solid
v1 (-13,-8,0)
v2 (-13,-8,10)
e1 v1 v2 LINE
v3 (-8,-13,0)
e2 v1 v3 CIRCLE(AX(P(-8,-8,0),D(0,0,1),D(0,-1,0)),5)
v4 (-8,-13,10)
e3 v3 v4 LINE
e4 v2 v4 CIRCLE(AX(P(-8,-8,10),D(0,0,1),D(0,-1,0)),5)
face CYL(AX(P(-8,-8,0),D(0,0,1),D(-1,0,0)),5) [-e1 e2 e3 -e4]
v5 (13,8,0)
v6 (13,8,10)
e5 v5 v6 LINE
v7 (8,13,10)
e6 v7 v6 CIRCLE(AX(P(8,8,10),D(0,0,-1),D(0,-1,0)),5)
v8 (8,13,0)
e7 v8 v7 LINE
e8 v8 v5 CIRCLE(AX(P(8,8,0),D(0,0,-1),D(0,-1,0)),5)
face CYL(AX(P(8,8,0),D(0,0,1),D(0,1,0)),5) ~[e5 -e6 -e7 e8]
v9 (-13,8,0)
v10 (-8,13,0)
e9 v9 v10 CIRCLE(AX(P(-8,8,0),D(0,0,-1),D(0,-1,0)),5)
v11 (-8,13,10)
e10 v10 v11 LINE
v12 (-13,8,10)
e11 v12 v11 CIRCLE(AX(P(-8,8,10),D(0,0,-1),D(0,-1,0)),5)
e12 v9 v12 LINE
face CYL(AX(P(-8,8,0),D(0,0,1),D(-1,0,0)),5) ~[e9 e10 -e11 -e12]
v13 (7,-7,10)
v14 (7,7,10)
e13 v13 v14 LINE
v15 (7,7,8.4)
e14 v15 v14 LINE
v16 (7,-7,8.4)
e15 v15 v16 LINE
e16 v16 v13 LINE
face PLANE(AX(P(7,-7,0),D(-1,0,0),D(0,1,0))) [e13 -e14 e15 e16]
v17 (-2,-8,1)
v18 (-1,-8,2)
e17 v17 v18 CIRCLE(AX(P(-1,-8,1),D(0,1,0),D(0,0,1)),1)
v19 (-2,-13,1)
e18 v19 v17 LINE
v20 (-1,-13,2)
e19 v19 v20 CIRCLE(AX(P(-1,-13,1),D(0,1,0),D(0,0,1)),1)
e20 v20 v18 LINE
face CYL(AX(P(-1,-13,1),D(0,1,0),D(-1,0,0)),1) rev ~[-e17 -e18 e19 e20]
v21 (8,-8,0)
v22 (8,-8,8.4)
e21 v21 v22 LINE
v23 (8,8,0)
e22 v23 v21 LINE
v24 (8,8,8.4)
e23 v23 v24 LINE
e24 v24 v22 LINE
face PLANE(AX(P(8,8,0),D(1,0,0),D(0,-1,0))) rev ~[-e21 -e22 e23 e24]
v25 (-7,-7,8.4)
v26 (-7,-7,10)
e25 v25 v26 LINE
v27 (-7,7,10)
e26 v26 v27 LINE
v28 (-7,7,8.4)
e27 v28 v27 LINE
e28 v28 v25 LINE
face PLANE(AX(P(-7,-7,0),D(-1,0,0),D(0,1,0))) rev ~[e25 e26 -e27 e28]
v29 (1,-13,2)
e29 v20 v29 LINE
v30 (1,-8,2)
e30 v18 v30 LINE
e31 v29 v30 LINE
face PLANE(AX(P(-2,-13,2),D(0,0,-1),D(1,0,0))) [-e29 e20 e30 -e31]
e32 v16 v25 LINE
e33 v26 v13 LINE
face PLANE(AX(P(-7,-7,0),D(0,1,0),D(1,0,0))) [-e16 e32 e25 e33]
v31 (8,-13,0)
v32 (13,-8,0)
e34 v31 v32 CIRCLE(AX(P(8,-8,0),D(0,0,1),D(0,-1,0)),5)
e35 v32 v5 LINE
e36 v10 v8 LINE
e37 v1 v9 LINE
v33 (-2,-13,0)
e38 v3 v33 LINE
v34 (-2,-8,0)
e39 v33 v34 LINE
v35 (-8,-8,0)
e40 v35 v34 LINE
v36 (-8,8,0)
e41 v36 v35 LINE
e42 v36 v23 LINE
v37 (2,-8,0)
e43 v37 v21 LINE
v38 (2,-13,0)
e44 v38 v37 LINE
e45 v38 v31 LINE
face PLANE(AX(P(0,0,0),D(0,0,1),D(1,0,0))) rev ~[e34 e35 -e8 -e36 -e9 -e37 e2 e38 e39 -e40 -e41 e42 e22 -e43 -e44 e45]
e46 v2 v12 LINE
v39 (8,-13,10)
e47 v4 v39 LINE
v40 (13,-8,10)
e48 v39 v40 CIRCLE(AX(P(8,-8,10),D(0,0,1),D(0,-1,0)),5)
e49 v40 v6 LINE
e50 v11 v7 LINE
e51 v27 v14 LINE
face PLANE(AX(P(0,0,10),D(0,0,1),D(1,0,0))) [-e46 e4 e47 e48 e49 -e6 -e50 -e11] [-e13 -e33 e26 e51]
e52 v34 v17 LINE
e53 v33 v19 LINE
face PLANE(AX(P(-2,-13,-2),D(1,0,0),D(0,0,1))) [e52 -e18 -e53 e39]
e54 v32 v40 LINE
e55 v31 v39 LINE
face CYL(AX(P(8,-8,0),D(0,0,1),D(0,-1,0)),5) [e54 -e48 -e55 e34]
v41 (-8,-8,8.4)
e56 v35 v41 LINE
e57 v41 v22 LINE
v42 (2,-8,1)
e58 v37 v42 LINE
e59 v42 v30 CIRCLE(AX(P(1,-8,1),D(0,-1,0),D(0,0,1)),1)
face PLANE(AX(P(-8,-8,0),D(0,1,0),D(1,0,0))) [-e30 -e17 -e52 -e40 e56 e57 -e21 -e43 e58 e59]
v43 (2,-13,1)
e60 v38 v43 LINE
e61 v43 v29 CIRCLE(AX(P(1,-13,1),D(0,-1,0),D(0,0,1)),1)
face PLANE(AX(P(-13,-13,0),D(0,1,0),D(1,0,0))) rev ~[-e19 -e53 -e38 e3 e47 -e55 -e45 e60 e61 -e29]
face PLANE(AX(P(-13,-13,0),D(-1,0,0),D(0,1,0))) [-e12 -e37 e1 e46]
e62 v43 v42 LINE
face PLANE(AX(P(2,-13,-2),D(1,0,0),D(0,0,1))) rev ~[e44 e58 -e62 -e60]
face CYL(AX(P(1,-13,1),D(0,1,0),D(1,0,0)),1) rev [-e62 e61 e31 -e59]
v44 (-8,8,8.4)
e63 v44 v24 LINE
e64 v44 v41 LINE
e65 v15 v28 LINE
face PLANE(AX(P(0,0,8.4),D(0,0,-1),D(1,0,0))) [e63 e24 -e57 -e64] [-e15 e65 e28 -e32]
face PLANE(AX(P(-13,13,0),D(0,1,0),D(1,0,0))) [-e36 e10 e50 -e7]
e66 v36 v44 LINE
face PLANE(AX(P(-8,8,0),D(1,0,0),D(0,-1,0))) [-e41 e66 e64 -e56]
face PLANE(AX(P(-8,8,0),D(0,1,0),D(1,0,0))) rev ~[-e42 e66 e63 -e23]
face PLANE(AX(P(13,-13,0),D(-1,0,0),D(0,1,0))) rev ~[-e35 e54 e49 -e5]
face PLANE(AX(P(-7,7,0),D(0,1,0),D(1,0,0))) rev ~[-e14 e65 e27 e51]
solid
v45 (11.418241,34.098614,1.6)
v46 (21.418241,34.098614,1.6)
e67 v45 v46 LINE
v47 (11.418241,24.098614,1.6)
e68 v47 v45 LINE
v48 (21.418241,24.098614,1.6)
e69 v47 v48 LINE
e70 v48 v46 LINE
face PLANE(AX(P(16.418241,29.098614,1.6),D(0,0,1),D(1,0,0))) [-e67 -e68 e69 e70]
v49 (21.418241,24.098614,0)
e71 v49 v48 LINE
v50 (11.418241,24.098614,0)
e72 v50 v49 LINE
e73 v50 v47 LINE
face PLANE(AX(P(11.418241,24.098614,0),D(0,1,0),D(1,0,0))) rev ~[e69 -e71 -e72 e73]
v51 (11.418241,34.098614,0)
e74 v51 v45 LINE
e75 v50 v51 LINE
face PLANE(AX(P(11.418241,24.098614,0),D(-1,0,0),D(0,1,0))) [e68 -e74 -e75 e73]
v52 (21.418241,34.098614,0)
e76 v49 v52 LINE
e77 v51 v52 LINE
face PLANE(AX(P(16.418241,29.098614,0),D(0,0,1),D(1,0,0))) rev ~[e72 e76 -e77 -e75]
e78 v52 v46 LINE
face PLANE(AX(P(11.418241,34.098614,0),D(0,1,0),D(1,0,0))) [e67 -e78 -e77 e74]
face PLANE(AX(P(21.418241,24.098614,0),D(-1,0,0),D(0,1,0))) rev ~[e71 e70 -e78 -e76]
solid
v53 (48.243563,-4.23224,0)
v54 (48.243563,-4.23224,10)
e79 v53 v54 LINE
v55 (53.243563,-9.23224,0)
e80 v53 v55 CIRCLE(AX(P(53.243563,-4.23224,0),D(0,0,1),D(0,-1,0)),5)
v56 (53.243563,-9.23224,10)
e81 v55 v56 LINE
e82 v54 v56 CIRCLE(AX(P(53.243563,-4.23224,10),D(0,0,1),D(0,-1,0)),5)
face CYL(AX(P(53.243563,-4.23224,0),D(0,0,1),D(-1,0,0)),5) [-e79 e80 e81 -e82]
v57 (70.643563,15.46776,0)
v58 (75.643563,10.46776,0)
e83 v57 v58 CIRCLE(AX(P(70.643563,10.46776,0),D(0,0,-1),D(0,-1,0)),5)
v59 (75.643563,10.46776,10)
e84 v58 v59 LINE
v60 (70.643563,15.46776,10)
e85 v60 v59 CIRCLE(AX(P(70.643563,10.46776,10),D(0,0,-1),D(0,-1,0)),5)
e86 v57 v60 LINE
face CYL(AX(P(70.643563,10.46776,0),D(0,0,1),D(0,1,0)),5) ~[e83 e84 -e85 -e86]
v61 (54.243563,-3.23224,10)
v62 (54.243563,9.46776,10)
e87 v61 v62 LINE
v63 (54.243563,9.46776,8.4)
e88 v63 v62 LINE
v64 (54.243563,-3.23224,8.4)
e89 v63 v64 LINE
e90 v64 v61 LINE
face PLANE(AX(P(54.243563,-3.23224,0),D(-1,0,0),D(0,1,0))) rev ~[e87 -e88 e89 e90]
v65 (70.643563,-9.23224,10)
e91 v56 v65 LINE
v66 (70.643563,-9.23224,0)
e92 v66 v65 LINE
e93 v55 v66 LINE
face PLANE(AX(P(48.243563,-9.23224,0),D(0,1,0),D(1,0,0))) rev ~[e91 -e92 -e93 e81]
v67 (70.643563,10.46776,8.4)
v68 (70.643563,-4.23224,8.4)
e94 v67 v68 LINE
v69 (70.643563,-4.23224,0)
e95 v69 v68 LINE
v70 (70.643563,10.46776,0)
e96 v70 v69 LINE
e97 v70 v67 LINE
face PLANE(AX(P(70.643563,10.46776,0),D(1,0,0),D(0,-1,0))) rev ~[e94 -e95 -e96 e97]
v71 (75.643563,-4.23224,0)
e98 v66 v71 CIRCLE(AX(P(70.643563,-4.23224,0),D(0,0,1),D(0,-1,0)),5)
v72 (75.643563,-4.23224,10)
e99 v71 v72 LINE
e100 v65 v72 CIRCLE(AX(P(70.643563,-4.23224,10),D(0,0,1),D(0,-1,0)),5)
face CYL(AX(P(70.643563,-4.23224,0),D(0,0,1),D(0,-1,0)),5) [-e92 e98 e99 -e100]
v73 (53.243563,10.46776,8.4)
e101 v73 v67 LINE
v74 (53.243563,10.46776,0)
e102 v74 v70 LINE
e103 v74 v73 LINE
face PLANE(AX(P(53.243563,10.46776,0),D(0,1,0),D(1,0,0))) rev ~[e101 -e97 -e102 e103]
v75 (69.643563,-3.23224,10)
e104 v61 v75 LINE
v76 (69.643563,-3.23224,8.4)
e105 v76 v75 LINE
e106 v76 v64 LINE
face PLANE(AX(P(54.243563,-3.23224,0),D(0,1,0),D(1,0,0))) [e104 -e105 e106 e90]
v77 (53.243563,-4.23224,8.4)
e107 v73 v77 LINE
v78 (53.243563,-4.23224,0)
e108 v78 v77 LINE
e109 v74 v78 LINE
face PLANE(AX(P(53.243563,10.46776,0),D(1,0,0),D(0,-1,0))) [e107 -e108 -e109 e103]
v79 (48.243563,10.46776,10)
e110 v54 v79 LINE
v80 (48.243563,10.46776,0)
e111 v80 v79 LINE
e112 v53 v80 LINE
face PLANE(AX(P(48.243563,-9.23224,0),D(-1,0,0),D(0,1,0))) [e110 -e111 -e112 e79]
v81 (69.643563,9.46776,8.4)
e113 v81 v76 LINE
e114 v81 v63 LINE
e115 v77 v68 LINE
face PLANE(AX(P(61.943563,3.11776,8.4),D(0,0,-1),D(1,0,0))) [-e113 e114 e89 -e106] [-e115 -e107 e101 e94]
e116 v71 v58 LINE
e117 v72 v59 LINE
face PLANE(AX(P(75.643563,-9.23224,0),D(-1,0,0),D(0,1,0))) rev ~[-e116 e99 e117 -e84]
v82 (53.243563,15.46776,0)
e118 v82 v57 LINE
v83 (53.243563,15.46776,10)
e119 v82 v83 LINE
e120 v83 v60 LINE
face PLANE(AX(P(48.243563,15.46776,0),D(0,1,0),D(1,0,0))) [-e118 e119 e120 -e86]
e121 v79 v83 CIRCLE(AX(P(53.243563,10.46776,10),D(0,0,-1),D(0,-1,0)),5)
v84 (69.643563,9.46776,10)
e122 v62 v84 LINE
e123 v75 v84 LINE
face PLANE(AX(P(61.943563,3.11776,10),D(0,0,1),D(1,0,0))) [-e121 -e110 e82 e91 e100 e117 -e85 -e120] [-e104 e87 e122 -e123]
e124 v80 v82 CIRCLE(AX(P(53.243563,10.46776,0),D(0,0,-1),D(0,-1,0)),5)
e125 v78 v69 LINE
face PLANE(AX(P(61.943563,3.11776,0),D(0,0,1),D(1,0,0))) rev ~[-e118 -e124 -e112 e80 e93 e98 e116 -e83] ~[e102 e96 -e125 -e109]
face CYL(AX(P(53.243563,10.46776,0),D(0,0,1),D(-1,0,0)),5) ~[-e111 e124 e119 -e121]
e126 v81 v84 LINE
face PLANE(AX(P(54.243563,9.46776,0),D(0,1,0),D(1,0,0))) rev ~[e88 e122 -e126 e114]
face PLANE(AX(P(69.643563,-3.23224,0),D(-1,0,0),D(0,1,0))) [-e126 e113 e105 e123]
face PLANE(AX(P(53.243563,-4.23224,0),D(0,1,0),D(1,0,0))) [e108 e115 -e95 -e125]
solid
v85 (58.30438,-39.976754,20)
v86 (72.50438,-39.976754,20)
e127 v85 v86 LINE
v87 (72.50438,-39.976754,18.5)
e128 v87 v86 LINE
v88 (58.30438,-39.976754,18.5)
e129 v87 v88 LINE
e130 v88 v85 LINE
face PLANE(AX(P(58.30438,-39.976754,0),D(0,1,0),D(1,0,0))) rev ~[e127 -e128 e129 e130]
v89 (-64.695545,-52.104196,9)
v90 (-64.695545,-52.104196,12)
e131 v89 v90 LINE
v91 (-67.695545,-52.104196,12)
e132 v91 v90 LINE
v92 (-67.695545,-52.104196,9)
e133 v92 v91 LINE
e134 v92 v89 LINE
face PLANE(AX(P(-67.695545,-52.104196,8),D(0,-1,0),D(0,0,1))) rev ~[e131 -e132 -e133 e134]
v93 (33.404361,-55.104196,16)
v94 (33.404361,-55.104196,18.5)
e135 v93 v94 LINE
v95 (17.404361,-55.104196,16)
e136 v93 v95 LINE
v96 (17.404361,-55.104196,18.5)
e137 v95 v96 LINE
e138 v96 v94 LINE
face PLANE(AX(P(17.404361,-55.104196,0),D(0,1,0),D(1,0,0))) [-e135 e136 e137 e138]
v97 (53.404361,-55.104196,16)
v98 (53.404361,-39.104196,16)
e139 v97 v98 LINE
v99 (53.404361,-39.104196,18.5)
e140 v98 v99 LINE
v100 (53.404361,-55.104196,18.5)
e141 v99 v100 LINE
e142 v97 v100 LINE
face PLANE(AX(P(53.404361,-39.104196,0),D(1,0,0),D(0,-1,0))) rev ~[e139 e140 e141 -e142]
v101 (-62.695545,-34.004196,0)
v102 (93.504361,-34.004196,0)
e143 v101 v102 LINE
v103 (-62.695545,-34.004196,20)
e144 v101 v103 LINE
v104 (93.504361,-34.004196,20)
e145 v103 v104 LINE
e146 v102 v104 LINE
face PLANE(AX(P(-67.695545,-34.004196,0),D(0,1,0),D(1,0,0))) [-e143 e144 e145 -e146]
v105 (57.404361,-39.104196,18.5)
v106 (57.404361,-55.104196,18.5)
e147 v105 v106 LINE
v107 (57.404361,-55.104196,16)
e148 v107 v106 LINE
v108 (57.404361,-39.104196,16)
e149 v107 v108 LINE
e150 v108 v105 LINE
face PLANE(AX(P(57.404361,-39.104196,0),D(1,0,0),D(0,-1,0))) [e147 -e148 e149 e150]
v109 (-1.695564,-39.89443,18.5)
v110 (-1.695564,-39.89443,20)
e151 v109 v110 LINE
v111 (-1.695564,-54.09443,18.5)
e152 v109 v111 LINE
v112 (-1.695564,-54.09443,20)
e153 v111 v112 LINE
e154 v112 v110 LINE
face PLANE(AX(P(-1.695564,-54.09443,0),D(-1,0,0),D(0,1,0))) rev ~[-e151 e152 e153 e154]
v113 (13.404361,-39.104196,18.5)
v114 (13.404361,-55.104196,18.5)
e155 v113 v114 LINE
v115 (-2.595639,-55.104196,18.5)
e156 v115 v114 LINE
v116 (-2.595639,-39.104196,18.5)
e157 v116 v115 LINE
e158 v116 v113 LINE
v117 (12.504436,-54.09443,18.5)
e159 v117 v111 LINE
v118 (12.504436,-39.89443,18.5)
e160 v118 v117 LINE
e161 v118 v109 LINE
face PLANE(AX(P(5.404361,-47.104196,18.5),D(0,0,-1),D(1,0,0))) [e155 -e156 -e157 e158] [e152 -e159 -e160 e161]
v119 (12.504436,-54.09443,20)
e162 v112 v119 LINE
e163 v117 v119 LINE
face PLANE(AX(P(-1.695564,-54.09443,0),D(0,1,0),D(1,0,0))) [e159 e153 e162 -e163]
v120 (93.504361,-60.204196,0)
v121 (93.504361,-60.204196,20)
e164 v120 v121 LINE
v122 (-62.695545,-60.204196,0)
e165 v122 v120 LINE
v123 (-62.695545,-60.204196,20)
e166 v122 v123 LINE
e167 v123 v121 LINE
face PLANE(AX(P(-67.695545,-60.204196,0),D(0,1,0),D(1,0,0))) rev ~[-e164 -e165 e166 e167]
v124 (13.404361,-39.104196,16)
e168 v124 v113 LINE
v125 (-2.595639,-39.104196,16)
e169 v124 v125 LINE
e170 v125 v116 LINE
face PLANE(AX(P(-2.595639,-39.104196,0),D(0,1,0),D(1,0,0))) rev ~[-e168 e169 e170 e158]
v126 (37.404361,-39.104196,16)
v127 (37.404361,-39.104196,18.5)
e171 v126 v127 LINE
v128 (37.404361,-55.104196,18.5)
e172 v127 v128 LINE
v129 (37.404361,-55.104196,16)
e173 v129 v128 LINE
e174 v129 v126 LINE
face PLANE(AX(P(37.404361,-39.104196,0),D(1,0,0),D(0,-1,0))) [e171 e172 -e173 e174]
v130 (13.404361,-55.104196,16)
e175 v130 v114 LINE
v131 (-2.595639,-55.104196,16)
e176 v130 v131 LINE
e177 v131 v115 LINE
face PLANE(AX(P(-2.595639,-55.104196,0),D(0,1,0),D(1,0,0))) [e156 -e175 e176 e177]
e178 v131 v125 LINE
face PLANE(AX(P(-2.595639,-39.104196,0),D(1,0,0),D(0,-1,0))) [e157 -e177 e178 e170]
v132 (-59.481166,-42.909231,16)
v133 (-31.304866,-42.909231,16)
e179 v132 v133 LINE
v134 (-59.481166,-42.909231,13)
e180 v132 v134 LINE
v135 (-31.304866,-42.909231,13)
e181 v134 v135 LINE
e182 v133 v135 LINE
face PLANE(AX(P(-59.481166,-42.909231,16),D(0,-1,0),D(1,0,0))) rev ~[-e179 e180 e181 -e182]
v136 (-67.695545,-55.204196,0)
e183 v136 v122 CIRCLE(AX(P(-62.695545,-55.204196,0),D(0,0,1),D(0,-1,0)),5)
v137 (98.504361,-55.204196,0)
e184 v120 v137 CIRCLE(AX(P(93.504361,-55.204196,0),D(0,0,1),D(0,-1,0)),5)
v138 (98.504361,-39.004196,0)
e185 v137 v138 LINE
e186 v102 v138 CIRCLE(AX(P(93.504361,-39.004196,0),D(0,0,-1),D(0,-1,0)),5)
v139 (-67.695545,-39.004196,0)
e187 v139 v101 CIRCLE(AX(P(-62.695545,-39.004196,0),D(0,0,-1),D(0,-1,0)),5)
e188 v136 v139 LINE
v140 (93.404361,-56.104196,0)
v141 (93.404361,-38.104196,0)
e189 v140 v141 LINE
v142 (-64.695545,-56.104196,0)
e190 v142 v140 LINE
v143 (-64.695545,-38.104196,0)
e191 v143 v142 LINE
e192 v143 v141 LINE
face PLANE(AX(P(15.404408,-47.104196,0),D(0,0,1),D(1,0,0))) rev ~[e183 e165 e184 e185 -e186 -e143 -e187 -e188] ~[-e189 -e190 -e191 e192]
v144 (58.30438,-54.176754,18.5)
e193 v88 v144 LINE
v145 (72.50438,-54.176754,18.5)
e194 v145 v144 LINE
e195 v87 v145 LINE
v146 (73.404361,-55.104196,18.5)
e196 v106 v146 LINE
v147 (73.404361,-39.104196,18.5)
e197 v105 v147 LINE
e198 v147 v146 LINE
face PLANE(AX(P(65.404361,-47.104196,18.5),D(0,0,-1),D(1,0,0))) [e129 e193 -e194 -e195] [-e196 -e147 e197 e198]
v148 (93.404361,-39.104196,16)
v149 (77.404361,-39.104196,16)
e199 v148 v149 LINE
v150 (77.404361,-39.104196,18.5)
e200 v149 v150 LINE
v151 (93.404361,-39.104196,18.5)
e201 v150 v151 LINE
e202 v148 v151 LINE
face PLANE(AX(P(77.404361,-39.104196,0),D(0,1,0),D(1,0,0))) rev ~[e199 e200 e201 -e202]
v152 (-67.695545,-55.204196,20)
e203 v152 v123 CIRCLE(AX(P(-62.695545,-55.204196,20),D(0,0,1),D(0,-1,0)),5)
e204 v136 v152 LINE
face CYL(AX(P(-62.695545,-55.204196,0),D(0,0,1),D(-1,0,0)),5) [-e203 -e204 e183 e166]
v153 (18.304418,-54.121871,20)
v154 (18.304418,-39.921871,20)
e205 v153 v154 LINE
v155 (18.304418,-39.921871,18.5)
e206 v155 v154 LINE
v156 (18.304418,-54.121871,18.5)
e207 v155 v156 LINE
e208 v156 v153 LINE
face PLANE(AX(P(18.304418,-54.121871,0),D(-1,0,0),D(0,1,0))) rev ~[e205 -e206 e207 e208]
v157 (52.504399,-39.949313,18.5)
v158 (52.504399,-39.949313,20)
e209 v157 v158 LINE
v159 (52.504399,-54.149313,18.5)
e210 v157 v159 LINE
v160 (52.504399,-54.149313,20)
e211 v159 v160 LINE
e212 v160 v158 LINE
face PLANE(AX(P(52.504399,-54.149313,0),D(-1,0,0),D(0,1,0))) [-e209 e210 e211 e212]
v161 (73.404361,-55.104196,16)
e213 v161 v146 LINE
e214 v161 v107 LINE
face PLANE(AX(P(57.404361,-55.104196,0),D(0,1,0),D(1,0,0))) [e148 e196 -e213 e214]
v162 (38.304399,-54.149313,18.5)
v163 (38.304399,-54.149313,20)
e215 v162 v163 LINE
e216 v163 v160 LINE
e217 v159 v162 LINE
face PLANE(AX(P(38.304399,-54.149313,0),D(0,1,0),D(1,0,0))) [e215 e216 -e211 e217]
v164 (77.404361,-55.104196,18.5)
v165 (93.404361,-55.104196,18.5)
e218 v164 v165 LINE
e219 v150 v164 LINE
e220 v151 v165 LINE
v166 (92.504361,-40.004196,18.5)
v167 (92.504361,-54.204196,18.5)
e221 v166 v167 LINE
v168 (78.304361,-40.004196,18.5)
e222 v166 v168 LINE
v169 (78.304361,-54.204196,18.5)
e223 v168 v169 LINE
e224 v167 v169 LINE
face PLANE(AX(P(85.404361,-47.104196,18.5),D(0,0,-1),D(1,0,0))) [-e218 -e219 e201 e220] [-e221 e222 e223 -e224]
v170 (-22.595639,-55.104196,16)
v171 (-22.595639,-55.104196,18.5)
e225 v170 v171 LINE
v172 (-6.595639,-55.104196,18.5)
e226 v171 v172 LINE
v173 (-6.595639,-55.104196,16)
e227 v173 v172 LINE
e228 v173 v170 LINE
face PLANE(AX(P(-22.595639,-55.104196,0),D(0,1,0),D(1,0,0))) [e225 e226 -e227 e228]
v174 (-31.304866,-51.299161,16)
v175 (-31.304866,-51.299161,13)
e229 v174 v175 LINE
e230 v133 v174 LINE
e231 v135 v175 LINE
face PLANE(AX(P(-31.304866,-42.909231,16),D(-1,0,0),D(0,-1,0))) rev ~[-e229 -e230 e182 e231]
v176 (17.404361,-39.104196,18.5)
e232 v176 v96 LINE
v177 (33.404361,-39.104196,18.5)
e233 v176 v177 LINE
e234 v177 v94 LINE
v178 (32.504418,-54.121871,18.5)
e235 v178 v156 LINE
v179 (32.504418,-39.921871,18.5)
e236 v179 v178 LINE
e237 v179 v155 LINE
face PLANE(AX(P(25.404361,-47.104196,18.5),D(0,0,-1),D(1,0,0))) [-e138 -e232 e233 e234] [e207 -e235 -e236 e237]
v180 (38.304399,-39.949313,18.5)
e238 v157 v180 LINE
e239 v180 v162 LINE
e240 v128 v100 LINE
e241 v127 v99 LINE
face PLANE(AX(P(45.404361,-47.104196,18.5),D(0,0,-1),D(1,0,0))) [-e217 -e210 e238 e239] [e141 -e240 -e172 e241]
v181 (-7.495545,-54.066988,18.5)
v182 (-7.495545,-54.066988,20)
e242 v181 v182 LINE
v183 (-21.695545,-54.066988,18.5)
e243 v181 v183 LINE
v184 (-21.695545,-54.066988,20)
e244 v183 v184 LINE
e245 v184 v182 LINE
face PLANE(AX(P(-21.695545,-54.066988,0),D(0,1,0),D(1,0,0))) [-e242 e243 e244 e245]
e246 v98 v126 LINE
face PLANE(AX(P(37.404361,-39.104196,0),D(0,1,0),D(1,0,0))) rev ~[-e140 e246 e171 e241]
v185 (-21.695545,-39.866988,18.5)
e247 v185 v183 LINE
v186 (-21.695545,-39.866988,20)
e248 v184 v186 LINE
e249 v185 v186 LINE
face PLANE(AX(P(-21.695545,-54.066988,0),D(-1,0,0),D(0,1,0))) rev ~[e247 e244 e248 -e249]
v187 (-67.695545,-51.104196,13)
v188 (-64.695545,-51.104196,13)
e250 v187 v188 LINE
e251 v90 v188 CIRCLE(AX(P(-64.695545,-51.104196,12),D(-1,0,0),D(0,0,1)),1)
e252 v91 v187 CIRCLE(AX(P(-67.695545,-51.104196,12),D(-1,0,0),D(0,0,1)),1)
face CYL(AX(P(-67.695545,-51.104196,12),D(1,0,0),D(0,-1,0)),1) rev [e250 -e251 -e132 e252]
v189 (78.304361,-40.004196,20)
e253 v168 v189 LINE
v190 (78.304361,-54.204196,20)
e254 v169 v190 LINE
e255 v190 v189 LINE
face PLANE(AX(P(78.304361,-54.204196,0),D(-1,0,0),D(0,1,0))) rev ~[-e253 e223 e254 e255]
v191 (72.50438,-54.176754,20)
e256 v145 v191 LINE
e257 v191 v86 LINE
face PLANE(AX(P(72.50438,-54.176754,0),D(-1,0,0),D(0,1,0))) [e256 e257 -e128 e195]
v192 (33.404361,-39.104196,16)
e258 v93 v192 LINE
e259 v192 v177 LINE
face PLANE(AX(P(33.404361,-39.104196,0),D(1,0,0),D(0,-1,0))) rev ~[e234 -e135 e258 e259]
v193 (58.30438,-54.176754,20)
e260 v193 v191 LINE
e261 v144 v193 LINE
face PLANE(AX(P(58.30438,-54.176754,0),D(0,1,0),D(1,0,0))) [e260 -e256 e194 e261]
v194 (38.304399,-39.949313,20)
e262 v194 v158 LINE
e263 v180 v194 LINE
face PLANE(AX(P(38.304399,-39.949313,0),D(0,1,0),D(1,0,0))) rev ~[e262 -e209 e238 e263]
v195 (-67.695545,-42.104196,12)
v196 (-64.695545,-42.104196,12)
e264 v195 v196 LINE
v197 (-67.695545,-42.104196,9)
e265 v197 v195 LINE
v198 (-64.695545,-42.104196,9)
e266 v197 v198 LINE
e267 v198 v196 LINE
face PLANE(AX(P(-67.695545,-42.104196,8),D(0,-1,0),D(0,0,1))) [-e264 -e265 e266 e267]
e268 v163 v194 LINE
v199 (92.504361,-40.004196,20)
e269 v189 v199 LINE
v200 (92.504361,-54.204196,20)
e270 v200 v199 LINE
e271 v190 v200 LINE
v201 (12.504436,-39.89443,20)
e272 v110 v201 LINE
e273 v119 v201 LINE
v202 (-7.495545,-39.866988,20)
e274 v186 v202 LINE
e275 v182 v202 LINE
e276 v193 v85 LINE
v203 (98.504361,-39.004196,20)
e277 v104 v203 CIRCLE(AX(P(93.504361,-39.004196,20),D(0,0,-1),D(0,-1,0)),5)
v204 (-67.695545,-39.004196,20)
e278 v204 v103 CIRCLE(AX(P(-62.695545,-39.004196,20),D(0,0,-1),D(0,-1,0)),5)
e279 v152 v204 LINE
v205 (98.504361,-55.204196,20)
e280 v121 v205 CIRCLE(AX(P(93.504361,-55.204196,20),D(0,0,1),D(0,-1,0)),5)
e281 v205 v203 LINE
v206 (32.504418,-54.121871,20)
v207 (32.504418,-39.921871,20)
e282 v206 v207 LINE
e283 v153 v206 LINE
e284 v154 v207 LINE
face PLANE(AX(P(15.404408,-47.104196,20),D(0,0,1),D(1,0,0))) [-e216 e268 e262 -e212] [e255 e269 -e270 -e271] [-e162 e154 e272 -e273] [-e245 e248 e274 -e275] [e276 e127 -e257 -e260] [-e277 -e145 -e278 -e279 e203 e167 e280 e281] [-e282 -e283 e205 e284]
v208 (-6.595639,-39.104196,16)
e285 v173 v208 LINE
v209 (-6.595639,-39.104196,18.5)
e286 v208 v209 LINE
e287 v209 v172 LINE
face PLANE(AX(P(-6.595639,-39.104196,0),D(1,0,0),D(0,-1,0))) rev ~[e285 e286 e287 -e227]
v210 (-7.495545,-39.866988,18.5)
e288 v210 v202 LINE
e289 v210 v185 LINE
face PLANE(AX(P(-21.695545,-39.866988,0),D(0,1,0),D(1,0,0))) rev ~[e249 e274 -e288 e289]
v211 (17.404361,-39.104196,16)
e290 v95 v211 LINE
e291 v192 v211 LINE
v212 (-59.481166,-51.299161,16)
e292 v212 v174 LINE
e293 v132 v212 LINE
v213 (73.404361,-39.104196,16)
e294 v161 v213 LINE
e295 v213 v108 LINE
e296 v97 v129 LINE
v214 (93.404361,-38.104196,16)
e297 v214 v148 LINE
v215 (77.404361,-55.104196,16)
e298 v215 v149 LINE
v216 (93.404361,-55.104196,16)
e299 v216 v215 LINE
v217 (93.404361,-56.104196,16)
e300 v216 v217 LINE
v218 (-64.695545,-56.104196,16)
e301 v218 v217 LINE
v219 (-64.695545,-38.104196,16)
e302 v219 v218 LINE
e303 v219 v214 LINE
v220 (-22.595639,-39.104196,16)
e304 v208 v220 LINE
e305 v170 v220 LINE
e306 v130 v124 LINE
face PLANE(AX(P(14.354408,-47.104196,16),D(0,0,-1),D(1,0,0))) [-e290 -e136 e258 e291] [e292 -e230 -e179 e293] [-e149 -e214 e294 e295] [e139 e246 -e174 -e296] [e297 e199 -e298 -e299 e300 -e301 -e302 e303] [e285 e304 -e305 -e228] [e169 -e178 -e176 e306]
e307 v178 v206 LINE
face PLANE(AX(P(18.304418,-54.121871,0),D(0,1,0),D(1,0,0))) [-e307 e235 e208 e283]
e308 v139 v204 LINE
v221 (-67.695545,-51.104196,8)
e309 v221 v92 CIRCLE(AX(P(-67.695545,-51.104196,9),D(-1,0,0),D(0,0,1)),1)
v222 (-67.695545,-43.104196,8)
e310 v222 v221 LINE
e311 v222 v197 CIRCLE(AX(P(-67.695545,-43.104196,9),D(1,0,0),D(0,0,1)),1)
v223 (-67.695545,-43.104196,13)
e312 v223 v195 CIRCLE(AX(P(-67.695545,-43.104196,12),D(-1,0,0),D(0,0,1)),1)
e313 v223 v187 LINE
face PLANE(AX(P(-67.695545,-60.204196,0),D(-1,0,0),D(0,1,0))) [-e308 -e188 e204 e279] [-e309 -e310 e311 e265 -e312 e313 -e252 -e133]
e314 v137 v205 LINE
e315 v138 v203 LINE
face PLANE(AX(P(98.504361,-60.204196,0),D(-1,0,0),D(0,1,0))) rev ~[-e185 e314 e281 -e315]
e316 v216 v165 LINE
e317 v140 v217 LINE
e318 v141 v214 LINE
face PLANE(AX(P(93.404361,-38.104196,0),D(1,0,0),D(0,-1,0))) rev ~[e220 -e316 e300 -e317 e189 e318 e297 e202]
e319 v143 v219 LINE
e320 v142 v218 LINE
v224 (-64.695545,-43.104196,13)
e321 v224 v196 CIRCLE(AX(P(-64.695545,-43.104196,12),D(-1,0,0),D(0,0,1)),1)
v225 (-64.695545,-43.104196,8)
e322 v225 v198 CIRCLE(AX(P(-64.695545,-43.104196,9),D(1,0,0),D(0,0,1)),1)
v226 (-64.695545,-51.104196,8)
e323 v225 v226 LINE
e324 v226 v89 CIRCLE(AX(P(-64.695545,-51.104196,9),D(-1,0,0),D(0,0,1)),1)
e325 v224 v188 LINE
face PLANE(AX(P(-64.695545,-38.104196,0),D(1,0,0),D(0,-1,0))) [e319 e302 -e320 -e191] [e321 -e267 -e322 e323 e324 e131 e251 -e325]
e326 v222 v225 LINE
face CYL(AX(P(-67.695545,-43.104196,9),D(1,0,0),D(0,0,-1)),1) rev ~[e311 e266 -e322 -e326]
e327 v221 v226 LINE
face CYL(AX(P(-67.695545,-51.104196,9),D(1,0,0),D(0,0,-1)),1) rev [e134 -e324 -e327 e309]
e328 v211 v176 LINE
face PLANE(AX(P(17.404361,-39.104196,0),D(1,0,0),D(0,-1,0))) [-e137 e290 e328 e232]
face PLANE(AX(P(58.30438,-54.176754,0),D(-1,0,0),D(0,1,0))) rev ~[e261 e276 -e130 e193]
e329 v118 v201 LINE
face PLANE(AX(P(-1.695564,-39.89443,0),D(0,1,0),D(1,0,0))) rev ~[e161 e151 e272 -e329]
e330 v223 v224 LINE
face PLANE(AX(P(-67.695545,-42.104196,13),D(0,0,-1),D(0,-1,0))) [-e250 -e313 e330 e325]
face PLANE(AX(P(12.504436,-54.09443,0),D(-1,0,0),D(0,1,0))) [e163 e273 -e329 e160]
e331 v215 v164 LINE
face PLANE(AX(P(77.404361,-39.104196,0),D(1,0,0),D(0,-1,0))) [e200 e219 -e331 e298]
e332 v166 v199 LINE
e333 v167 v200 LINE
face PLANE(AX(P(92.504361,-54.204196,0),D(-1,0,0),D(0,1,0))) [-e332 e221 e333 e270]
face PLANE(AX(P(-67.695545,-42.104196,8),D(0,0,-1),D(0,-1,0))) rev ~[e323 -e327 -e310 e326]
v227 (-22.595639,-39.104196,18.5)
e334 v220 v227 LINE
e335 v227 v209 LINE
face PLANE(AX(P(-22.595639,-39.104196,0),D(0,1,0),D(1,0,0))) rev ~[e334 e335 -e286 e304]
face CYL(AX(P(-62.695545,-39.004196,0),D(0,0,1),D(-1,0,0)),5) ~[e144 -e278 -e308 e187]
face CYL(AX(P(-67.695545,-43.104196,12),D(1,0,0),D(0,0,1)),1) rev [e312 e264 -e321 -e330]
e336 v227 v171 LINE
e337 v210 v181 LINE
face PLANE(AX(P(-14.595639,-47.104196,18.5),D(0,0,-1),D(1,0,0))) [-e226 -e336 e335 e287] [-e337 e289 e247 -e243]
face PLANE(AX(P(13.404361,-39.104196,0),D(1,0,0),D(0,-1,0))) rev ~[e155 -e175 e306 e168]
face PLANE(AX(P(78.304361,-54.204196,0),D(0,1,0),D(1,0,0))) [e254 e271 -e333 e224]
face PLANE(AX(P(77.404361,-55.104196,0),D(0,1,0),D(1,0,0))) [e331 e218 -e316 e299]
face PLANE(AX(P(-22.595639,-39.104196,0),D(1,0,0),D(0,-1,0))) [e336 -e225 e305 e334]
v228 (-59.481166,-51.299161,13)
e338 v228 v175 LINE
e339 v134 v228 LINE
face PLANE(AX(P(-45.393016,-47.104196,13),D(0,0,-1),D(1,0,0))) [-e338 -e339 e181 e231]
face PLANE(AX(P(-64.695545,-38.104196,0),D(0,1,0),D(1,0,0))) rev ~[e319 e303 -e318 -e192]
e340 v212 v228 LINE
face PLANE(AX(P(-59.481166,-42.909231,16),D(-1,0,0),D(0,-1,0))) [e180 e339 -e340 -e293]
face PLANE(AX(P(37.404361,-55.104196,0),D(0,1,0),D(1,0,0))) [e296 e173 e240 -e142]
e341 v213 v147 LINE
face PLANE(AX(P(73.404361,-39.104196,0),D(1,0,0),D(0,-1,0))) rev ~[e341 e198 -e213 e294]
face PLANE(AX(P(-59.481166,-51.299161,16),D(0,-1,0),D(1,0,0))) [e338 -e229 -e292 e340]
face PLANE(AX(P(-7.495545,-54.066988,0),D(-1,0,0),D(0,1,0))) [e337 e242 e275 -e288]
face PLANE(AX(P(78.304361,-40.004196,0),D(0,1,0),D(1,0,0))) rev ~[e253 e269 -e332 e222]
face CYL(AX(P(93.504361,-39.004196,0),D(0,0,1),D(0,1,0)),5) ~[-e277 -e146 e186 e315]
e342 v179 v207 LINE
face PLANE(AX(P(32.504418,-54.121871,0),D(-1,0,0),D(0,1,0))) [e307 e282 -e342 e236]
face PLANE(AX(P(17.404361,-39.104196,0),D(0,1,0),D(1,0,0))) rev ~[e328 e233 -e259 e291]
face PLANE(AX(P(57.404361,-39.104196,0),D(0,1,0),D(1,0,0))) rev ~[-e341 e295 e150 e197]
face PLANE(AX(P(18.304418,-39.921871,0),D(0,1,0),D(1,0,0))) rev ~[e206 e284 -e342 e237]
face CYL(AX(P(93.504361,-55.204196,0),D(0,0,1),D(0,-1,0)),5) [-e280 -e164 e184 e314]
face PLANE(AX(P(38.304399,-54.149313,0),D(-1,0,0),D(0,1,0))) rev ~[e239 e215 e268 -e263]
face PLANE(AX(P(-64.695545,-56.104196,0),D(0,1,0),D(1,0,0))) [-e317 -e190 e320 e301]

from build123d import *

# Parameters (mm, degrees)
F0_W      = 26
F0_H      = 26
F0_W_2    = 14
F0_H_2    = 14
F0_W_3    = 27.4
F0_H_3    = 24.7
F0_W_4    = 15.4
F0_H_4    = 12.7
F1_DEPTH  = 10
F2_W      = 16
F2_H      = 16
F2_W_2    = 17.4
F2_H_2    = 14.7
F3_DEPTH  = 8.4
F4_W      = 4
F4_H      = 4
F5_DEPTH  = 5
F6_W      = 166.199906
F6_H      = 26.2
F6_W_2    = 14.2
F6_H_2    = 14.2
F7_DEPTH  = 20
F8_W      = 16
F8_H      = 16
F9_DEPTH  = 18.5
F10_W     = 158.099906
F10_H     = 18
F11_DEPTH = 16
F12_W     = 28.1763
F12_H     = 8.38993
F13_DEPTH = 3
F14_W     = 10
F14_H     = 5
F15_DEPTH = 3
F16_R     = 5
F16_2_R   = 5
F17_R     = 1
F17_2_R   = 1
F18_W     = 10
F18_H     = 10
F19_DEPTH = 1.6


with BuildPart() as f1:
    # F0 (on Top) → F1 (new body)
    with BuildSketch(Plane.XY):
        Rectangle(F0_W, F0_H)
        Rectangle(F0_W_2, F0_H_2, mode=Mode.SUBTRACT)
        with Locations((61.943563, 3.11776)):
            Rectangle(F0_W_3, F0_H_3)
        with Locations((61.943563, 3.11776)):
            Rectangle(F0_W_4, F0_H_4, mode=Mode.SUBTRACT)
    extrude(amount=F1_DEPTH)

    # F2 (on face) → F3 (cut)
    with BuildSketch(Plane(origin=(0, 0, 0), x_dir=(1, 0, 0), z_dir=(0, 0, -1))):
        Rectangle(F2_W, F2_H)
        with Locations((61.943563, -3.11776)):
            Rectangle(F2_W_2, F2_H_2)
    extrude(amount=-F3_DEPTH, mode=Mode.SUBTRACT)

    # F4 (on face) → F5 (cut, through all)
    with BuildSketch(Plane.XZ.offset(13)):
        Rectangle(F4_W, F4_H)
    extrude(amount=-F5_DEPTH, mode=Mode.SUBTRACT)

    # F16
    f16_edges = [f1.edges().sort_by_distance(p)[0] for p in [
        (-13, -13, 5),
        (-13, 13, 5),
        (13, -13, 5),
        (13, 13, 5),
        (75.643563, 15.46776, 5),
        (75.643563, -9.23224, 5),
        (48.243563, -9.23224, 5),
        (48.243563, 15.46776, 5),
    ]]
    fillet(f16_edges, radius=F16_R)

    # F17
    f17_edges = [f1.edges().sort_by_distance(p)[0] for p in [
        (-2, -10.5, 2),
        (2, -10.5, 2),
    ]]
    fillet(f17_edges, radius=F17_R)


with BuildPart() as f7:
    # F6 (on Top) → F7 (new body)
    with BuildSketch(Plane.XY):
        with Locations((15.404408, -47.104196)):
            Rectangle(F6_W, F6_H)
        with Locations((-14.595545, -46.966988)):
            Rectangle(F6_W_2, F6_H_2, mode=Mode.SUBTRACT)
        with Locations((5.404436, -46.99443)):
            Rectangle(F6_W_2, F6_H_2, mode=Mode.SUBTRACT)
        with Locations((25.404418, -47.021871)):
            Rectangle(F6_W_2, F6_H_2, mode=Mode.SUBTRACT)
        with Locations((45.404399, -47.049313)):
            Rectangle(F6_W_2, F6_H_2, mode=Mode.SUBTRACT)
        with Locations((65.40438, -47.076754)):
            Rectangle(F6_W_2, F6_H_2, mode=Mode.SUBTRACT)
        with Locations((85.404361, -47.104196)):
            Rectangle(F6_W_2, F6_H_2, mode=Mode.SUBTRACT)
    extrude(amount=F7_DEPTH)

    # F8 (on face) → F9 (cut)
    with BuildSketch(Plane(origin=(0, 0, 0), x_dir=(1, 0, 0), z_dir=(0, 0, -1))):
        with Locations((85.404361, 47.104196)):
            Rectangle(F8_W, F8_H)
        with Locations((65.404361, 47.104196)):
            Rectangle(F8_W, F8_H)
        with Locations((45.404361, 47.104196)):
            Rectangle(F8_W, F8_H)
        with Locations((25.404361, 47.104196)):
            Rectangle(F8_W, F8_H)
        with Locations((5.404361, 47.104196)):
            Rectangle(F8_W, F8_H)
        with Locations((-14.595639, 47.104196)):
            Rectangle(F8_W, F8_H)
    extrude(amount=-F9_DEPTH, mode=Mode.SUBTRACT)

    # F10 (on face) → F11 (cut)
    with BuildSketch(Plane(origin=(0, 0, 0), x_dir=(1, 0, 0), z_dir=(0, 0, -1))):
        with Locations((14.354408, 47.104196)):
            Rectangle(F10_W, F10_H)
    extrude(amount=-F11_DEPTH, mode=Mode.SUBTRACT)

    # F12 (on face) → F13 (join)
    with BuildSketch(Plane(origin=(0, 0, 16), x_dir=(1, 0, 0), z_dir=(0, 0, -1))):
        with Locations((-45.393016, 47.104196)):
            Rectangle(F12_W, F12_H)
    extrude(amount=F13_DEPTH)

    # F14 (on face) → F15 (cut, through all)
    with BuildSketch(Plane(origin=(-67.695545, 0, 0), x_dir=(0, -1, 0), z_dir=(-1, 0, 0))):
        with Locations((47.104196, 10.5)):
            Rectangle(F14_W, F14_H)
    extrude(amount=-F15_DEPTH, mode=Mode.SUBTRACT)

    # F16#2
    f16_2_edges = [f7.edges().sort_by_distance(p)[0] for p in [
        (-67.695545, -34.004196, 10),
        (-67.695545, -60.204196, 10),
        (98.504361, -60.204196, 10),
        (98.504361, -34.004196, 10),
    ]]
    fillet(f16_2_edges, radius=F16_2_R)

    # F17#2
    f17_2_edges = [f7.edges().sort_by_distance(p)[0] for p in [
        (-66.195545, -42.104196, 13),
        (-66.195545, -52.104196, 13),
        (-66.195545, -42.104196, 8),
        (-66.195545, -52.104196, 8),
    ]]
    fillet(f17_2_edges, radius=F17_2_R)


with BuildPart() as f19:
    # F18 (on Top) → F19 (new body)
    with BuildSketch(Plane.XY):
        with Locations((16.418241, 29.098614)):
            Rectangle(F18_W, F18_H)
    extrude(amount=F19_DEPTH)


solid = Compound([f1.part, f7.part, f19.part])
